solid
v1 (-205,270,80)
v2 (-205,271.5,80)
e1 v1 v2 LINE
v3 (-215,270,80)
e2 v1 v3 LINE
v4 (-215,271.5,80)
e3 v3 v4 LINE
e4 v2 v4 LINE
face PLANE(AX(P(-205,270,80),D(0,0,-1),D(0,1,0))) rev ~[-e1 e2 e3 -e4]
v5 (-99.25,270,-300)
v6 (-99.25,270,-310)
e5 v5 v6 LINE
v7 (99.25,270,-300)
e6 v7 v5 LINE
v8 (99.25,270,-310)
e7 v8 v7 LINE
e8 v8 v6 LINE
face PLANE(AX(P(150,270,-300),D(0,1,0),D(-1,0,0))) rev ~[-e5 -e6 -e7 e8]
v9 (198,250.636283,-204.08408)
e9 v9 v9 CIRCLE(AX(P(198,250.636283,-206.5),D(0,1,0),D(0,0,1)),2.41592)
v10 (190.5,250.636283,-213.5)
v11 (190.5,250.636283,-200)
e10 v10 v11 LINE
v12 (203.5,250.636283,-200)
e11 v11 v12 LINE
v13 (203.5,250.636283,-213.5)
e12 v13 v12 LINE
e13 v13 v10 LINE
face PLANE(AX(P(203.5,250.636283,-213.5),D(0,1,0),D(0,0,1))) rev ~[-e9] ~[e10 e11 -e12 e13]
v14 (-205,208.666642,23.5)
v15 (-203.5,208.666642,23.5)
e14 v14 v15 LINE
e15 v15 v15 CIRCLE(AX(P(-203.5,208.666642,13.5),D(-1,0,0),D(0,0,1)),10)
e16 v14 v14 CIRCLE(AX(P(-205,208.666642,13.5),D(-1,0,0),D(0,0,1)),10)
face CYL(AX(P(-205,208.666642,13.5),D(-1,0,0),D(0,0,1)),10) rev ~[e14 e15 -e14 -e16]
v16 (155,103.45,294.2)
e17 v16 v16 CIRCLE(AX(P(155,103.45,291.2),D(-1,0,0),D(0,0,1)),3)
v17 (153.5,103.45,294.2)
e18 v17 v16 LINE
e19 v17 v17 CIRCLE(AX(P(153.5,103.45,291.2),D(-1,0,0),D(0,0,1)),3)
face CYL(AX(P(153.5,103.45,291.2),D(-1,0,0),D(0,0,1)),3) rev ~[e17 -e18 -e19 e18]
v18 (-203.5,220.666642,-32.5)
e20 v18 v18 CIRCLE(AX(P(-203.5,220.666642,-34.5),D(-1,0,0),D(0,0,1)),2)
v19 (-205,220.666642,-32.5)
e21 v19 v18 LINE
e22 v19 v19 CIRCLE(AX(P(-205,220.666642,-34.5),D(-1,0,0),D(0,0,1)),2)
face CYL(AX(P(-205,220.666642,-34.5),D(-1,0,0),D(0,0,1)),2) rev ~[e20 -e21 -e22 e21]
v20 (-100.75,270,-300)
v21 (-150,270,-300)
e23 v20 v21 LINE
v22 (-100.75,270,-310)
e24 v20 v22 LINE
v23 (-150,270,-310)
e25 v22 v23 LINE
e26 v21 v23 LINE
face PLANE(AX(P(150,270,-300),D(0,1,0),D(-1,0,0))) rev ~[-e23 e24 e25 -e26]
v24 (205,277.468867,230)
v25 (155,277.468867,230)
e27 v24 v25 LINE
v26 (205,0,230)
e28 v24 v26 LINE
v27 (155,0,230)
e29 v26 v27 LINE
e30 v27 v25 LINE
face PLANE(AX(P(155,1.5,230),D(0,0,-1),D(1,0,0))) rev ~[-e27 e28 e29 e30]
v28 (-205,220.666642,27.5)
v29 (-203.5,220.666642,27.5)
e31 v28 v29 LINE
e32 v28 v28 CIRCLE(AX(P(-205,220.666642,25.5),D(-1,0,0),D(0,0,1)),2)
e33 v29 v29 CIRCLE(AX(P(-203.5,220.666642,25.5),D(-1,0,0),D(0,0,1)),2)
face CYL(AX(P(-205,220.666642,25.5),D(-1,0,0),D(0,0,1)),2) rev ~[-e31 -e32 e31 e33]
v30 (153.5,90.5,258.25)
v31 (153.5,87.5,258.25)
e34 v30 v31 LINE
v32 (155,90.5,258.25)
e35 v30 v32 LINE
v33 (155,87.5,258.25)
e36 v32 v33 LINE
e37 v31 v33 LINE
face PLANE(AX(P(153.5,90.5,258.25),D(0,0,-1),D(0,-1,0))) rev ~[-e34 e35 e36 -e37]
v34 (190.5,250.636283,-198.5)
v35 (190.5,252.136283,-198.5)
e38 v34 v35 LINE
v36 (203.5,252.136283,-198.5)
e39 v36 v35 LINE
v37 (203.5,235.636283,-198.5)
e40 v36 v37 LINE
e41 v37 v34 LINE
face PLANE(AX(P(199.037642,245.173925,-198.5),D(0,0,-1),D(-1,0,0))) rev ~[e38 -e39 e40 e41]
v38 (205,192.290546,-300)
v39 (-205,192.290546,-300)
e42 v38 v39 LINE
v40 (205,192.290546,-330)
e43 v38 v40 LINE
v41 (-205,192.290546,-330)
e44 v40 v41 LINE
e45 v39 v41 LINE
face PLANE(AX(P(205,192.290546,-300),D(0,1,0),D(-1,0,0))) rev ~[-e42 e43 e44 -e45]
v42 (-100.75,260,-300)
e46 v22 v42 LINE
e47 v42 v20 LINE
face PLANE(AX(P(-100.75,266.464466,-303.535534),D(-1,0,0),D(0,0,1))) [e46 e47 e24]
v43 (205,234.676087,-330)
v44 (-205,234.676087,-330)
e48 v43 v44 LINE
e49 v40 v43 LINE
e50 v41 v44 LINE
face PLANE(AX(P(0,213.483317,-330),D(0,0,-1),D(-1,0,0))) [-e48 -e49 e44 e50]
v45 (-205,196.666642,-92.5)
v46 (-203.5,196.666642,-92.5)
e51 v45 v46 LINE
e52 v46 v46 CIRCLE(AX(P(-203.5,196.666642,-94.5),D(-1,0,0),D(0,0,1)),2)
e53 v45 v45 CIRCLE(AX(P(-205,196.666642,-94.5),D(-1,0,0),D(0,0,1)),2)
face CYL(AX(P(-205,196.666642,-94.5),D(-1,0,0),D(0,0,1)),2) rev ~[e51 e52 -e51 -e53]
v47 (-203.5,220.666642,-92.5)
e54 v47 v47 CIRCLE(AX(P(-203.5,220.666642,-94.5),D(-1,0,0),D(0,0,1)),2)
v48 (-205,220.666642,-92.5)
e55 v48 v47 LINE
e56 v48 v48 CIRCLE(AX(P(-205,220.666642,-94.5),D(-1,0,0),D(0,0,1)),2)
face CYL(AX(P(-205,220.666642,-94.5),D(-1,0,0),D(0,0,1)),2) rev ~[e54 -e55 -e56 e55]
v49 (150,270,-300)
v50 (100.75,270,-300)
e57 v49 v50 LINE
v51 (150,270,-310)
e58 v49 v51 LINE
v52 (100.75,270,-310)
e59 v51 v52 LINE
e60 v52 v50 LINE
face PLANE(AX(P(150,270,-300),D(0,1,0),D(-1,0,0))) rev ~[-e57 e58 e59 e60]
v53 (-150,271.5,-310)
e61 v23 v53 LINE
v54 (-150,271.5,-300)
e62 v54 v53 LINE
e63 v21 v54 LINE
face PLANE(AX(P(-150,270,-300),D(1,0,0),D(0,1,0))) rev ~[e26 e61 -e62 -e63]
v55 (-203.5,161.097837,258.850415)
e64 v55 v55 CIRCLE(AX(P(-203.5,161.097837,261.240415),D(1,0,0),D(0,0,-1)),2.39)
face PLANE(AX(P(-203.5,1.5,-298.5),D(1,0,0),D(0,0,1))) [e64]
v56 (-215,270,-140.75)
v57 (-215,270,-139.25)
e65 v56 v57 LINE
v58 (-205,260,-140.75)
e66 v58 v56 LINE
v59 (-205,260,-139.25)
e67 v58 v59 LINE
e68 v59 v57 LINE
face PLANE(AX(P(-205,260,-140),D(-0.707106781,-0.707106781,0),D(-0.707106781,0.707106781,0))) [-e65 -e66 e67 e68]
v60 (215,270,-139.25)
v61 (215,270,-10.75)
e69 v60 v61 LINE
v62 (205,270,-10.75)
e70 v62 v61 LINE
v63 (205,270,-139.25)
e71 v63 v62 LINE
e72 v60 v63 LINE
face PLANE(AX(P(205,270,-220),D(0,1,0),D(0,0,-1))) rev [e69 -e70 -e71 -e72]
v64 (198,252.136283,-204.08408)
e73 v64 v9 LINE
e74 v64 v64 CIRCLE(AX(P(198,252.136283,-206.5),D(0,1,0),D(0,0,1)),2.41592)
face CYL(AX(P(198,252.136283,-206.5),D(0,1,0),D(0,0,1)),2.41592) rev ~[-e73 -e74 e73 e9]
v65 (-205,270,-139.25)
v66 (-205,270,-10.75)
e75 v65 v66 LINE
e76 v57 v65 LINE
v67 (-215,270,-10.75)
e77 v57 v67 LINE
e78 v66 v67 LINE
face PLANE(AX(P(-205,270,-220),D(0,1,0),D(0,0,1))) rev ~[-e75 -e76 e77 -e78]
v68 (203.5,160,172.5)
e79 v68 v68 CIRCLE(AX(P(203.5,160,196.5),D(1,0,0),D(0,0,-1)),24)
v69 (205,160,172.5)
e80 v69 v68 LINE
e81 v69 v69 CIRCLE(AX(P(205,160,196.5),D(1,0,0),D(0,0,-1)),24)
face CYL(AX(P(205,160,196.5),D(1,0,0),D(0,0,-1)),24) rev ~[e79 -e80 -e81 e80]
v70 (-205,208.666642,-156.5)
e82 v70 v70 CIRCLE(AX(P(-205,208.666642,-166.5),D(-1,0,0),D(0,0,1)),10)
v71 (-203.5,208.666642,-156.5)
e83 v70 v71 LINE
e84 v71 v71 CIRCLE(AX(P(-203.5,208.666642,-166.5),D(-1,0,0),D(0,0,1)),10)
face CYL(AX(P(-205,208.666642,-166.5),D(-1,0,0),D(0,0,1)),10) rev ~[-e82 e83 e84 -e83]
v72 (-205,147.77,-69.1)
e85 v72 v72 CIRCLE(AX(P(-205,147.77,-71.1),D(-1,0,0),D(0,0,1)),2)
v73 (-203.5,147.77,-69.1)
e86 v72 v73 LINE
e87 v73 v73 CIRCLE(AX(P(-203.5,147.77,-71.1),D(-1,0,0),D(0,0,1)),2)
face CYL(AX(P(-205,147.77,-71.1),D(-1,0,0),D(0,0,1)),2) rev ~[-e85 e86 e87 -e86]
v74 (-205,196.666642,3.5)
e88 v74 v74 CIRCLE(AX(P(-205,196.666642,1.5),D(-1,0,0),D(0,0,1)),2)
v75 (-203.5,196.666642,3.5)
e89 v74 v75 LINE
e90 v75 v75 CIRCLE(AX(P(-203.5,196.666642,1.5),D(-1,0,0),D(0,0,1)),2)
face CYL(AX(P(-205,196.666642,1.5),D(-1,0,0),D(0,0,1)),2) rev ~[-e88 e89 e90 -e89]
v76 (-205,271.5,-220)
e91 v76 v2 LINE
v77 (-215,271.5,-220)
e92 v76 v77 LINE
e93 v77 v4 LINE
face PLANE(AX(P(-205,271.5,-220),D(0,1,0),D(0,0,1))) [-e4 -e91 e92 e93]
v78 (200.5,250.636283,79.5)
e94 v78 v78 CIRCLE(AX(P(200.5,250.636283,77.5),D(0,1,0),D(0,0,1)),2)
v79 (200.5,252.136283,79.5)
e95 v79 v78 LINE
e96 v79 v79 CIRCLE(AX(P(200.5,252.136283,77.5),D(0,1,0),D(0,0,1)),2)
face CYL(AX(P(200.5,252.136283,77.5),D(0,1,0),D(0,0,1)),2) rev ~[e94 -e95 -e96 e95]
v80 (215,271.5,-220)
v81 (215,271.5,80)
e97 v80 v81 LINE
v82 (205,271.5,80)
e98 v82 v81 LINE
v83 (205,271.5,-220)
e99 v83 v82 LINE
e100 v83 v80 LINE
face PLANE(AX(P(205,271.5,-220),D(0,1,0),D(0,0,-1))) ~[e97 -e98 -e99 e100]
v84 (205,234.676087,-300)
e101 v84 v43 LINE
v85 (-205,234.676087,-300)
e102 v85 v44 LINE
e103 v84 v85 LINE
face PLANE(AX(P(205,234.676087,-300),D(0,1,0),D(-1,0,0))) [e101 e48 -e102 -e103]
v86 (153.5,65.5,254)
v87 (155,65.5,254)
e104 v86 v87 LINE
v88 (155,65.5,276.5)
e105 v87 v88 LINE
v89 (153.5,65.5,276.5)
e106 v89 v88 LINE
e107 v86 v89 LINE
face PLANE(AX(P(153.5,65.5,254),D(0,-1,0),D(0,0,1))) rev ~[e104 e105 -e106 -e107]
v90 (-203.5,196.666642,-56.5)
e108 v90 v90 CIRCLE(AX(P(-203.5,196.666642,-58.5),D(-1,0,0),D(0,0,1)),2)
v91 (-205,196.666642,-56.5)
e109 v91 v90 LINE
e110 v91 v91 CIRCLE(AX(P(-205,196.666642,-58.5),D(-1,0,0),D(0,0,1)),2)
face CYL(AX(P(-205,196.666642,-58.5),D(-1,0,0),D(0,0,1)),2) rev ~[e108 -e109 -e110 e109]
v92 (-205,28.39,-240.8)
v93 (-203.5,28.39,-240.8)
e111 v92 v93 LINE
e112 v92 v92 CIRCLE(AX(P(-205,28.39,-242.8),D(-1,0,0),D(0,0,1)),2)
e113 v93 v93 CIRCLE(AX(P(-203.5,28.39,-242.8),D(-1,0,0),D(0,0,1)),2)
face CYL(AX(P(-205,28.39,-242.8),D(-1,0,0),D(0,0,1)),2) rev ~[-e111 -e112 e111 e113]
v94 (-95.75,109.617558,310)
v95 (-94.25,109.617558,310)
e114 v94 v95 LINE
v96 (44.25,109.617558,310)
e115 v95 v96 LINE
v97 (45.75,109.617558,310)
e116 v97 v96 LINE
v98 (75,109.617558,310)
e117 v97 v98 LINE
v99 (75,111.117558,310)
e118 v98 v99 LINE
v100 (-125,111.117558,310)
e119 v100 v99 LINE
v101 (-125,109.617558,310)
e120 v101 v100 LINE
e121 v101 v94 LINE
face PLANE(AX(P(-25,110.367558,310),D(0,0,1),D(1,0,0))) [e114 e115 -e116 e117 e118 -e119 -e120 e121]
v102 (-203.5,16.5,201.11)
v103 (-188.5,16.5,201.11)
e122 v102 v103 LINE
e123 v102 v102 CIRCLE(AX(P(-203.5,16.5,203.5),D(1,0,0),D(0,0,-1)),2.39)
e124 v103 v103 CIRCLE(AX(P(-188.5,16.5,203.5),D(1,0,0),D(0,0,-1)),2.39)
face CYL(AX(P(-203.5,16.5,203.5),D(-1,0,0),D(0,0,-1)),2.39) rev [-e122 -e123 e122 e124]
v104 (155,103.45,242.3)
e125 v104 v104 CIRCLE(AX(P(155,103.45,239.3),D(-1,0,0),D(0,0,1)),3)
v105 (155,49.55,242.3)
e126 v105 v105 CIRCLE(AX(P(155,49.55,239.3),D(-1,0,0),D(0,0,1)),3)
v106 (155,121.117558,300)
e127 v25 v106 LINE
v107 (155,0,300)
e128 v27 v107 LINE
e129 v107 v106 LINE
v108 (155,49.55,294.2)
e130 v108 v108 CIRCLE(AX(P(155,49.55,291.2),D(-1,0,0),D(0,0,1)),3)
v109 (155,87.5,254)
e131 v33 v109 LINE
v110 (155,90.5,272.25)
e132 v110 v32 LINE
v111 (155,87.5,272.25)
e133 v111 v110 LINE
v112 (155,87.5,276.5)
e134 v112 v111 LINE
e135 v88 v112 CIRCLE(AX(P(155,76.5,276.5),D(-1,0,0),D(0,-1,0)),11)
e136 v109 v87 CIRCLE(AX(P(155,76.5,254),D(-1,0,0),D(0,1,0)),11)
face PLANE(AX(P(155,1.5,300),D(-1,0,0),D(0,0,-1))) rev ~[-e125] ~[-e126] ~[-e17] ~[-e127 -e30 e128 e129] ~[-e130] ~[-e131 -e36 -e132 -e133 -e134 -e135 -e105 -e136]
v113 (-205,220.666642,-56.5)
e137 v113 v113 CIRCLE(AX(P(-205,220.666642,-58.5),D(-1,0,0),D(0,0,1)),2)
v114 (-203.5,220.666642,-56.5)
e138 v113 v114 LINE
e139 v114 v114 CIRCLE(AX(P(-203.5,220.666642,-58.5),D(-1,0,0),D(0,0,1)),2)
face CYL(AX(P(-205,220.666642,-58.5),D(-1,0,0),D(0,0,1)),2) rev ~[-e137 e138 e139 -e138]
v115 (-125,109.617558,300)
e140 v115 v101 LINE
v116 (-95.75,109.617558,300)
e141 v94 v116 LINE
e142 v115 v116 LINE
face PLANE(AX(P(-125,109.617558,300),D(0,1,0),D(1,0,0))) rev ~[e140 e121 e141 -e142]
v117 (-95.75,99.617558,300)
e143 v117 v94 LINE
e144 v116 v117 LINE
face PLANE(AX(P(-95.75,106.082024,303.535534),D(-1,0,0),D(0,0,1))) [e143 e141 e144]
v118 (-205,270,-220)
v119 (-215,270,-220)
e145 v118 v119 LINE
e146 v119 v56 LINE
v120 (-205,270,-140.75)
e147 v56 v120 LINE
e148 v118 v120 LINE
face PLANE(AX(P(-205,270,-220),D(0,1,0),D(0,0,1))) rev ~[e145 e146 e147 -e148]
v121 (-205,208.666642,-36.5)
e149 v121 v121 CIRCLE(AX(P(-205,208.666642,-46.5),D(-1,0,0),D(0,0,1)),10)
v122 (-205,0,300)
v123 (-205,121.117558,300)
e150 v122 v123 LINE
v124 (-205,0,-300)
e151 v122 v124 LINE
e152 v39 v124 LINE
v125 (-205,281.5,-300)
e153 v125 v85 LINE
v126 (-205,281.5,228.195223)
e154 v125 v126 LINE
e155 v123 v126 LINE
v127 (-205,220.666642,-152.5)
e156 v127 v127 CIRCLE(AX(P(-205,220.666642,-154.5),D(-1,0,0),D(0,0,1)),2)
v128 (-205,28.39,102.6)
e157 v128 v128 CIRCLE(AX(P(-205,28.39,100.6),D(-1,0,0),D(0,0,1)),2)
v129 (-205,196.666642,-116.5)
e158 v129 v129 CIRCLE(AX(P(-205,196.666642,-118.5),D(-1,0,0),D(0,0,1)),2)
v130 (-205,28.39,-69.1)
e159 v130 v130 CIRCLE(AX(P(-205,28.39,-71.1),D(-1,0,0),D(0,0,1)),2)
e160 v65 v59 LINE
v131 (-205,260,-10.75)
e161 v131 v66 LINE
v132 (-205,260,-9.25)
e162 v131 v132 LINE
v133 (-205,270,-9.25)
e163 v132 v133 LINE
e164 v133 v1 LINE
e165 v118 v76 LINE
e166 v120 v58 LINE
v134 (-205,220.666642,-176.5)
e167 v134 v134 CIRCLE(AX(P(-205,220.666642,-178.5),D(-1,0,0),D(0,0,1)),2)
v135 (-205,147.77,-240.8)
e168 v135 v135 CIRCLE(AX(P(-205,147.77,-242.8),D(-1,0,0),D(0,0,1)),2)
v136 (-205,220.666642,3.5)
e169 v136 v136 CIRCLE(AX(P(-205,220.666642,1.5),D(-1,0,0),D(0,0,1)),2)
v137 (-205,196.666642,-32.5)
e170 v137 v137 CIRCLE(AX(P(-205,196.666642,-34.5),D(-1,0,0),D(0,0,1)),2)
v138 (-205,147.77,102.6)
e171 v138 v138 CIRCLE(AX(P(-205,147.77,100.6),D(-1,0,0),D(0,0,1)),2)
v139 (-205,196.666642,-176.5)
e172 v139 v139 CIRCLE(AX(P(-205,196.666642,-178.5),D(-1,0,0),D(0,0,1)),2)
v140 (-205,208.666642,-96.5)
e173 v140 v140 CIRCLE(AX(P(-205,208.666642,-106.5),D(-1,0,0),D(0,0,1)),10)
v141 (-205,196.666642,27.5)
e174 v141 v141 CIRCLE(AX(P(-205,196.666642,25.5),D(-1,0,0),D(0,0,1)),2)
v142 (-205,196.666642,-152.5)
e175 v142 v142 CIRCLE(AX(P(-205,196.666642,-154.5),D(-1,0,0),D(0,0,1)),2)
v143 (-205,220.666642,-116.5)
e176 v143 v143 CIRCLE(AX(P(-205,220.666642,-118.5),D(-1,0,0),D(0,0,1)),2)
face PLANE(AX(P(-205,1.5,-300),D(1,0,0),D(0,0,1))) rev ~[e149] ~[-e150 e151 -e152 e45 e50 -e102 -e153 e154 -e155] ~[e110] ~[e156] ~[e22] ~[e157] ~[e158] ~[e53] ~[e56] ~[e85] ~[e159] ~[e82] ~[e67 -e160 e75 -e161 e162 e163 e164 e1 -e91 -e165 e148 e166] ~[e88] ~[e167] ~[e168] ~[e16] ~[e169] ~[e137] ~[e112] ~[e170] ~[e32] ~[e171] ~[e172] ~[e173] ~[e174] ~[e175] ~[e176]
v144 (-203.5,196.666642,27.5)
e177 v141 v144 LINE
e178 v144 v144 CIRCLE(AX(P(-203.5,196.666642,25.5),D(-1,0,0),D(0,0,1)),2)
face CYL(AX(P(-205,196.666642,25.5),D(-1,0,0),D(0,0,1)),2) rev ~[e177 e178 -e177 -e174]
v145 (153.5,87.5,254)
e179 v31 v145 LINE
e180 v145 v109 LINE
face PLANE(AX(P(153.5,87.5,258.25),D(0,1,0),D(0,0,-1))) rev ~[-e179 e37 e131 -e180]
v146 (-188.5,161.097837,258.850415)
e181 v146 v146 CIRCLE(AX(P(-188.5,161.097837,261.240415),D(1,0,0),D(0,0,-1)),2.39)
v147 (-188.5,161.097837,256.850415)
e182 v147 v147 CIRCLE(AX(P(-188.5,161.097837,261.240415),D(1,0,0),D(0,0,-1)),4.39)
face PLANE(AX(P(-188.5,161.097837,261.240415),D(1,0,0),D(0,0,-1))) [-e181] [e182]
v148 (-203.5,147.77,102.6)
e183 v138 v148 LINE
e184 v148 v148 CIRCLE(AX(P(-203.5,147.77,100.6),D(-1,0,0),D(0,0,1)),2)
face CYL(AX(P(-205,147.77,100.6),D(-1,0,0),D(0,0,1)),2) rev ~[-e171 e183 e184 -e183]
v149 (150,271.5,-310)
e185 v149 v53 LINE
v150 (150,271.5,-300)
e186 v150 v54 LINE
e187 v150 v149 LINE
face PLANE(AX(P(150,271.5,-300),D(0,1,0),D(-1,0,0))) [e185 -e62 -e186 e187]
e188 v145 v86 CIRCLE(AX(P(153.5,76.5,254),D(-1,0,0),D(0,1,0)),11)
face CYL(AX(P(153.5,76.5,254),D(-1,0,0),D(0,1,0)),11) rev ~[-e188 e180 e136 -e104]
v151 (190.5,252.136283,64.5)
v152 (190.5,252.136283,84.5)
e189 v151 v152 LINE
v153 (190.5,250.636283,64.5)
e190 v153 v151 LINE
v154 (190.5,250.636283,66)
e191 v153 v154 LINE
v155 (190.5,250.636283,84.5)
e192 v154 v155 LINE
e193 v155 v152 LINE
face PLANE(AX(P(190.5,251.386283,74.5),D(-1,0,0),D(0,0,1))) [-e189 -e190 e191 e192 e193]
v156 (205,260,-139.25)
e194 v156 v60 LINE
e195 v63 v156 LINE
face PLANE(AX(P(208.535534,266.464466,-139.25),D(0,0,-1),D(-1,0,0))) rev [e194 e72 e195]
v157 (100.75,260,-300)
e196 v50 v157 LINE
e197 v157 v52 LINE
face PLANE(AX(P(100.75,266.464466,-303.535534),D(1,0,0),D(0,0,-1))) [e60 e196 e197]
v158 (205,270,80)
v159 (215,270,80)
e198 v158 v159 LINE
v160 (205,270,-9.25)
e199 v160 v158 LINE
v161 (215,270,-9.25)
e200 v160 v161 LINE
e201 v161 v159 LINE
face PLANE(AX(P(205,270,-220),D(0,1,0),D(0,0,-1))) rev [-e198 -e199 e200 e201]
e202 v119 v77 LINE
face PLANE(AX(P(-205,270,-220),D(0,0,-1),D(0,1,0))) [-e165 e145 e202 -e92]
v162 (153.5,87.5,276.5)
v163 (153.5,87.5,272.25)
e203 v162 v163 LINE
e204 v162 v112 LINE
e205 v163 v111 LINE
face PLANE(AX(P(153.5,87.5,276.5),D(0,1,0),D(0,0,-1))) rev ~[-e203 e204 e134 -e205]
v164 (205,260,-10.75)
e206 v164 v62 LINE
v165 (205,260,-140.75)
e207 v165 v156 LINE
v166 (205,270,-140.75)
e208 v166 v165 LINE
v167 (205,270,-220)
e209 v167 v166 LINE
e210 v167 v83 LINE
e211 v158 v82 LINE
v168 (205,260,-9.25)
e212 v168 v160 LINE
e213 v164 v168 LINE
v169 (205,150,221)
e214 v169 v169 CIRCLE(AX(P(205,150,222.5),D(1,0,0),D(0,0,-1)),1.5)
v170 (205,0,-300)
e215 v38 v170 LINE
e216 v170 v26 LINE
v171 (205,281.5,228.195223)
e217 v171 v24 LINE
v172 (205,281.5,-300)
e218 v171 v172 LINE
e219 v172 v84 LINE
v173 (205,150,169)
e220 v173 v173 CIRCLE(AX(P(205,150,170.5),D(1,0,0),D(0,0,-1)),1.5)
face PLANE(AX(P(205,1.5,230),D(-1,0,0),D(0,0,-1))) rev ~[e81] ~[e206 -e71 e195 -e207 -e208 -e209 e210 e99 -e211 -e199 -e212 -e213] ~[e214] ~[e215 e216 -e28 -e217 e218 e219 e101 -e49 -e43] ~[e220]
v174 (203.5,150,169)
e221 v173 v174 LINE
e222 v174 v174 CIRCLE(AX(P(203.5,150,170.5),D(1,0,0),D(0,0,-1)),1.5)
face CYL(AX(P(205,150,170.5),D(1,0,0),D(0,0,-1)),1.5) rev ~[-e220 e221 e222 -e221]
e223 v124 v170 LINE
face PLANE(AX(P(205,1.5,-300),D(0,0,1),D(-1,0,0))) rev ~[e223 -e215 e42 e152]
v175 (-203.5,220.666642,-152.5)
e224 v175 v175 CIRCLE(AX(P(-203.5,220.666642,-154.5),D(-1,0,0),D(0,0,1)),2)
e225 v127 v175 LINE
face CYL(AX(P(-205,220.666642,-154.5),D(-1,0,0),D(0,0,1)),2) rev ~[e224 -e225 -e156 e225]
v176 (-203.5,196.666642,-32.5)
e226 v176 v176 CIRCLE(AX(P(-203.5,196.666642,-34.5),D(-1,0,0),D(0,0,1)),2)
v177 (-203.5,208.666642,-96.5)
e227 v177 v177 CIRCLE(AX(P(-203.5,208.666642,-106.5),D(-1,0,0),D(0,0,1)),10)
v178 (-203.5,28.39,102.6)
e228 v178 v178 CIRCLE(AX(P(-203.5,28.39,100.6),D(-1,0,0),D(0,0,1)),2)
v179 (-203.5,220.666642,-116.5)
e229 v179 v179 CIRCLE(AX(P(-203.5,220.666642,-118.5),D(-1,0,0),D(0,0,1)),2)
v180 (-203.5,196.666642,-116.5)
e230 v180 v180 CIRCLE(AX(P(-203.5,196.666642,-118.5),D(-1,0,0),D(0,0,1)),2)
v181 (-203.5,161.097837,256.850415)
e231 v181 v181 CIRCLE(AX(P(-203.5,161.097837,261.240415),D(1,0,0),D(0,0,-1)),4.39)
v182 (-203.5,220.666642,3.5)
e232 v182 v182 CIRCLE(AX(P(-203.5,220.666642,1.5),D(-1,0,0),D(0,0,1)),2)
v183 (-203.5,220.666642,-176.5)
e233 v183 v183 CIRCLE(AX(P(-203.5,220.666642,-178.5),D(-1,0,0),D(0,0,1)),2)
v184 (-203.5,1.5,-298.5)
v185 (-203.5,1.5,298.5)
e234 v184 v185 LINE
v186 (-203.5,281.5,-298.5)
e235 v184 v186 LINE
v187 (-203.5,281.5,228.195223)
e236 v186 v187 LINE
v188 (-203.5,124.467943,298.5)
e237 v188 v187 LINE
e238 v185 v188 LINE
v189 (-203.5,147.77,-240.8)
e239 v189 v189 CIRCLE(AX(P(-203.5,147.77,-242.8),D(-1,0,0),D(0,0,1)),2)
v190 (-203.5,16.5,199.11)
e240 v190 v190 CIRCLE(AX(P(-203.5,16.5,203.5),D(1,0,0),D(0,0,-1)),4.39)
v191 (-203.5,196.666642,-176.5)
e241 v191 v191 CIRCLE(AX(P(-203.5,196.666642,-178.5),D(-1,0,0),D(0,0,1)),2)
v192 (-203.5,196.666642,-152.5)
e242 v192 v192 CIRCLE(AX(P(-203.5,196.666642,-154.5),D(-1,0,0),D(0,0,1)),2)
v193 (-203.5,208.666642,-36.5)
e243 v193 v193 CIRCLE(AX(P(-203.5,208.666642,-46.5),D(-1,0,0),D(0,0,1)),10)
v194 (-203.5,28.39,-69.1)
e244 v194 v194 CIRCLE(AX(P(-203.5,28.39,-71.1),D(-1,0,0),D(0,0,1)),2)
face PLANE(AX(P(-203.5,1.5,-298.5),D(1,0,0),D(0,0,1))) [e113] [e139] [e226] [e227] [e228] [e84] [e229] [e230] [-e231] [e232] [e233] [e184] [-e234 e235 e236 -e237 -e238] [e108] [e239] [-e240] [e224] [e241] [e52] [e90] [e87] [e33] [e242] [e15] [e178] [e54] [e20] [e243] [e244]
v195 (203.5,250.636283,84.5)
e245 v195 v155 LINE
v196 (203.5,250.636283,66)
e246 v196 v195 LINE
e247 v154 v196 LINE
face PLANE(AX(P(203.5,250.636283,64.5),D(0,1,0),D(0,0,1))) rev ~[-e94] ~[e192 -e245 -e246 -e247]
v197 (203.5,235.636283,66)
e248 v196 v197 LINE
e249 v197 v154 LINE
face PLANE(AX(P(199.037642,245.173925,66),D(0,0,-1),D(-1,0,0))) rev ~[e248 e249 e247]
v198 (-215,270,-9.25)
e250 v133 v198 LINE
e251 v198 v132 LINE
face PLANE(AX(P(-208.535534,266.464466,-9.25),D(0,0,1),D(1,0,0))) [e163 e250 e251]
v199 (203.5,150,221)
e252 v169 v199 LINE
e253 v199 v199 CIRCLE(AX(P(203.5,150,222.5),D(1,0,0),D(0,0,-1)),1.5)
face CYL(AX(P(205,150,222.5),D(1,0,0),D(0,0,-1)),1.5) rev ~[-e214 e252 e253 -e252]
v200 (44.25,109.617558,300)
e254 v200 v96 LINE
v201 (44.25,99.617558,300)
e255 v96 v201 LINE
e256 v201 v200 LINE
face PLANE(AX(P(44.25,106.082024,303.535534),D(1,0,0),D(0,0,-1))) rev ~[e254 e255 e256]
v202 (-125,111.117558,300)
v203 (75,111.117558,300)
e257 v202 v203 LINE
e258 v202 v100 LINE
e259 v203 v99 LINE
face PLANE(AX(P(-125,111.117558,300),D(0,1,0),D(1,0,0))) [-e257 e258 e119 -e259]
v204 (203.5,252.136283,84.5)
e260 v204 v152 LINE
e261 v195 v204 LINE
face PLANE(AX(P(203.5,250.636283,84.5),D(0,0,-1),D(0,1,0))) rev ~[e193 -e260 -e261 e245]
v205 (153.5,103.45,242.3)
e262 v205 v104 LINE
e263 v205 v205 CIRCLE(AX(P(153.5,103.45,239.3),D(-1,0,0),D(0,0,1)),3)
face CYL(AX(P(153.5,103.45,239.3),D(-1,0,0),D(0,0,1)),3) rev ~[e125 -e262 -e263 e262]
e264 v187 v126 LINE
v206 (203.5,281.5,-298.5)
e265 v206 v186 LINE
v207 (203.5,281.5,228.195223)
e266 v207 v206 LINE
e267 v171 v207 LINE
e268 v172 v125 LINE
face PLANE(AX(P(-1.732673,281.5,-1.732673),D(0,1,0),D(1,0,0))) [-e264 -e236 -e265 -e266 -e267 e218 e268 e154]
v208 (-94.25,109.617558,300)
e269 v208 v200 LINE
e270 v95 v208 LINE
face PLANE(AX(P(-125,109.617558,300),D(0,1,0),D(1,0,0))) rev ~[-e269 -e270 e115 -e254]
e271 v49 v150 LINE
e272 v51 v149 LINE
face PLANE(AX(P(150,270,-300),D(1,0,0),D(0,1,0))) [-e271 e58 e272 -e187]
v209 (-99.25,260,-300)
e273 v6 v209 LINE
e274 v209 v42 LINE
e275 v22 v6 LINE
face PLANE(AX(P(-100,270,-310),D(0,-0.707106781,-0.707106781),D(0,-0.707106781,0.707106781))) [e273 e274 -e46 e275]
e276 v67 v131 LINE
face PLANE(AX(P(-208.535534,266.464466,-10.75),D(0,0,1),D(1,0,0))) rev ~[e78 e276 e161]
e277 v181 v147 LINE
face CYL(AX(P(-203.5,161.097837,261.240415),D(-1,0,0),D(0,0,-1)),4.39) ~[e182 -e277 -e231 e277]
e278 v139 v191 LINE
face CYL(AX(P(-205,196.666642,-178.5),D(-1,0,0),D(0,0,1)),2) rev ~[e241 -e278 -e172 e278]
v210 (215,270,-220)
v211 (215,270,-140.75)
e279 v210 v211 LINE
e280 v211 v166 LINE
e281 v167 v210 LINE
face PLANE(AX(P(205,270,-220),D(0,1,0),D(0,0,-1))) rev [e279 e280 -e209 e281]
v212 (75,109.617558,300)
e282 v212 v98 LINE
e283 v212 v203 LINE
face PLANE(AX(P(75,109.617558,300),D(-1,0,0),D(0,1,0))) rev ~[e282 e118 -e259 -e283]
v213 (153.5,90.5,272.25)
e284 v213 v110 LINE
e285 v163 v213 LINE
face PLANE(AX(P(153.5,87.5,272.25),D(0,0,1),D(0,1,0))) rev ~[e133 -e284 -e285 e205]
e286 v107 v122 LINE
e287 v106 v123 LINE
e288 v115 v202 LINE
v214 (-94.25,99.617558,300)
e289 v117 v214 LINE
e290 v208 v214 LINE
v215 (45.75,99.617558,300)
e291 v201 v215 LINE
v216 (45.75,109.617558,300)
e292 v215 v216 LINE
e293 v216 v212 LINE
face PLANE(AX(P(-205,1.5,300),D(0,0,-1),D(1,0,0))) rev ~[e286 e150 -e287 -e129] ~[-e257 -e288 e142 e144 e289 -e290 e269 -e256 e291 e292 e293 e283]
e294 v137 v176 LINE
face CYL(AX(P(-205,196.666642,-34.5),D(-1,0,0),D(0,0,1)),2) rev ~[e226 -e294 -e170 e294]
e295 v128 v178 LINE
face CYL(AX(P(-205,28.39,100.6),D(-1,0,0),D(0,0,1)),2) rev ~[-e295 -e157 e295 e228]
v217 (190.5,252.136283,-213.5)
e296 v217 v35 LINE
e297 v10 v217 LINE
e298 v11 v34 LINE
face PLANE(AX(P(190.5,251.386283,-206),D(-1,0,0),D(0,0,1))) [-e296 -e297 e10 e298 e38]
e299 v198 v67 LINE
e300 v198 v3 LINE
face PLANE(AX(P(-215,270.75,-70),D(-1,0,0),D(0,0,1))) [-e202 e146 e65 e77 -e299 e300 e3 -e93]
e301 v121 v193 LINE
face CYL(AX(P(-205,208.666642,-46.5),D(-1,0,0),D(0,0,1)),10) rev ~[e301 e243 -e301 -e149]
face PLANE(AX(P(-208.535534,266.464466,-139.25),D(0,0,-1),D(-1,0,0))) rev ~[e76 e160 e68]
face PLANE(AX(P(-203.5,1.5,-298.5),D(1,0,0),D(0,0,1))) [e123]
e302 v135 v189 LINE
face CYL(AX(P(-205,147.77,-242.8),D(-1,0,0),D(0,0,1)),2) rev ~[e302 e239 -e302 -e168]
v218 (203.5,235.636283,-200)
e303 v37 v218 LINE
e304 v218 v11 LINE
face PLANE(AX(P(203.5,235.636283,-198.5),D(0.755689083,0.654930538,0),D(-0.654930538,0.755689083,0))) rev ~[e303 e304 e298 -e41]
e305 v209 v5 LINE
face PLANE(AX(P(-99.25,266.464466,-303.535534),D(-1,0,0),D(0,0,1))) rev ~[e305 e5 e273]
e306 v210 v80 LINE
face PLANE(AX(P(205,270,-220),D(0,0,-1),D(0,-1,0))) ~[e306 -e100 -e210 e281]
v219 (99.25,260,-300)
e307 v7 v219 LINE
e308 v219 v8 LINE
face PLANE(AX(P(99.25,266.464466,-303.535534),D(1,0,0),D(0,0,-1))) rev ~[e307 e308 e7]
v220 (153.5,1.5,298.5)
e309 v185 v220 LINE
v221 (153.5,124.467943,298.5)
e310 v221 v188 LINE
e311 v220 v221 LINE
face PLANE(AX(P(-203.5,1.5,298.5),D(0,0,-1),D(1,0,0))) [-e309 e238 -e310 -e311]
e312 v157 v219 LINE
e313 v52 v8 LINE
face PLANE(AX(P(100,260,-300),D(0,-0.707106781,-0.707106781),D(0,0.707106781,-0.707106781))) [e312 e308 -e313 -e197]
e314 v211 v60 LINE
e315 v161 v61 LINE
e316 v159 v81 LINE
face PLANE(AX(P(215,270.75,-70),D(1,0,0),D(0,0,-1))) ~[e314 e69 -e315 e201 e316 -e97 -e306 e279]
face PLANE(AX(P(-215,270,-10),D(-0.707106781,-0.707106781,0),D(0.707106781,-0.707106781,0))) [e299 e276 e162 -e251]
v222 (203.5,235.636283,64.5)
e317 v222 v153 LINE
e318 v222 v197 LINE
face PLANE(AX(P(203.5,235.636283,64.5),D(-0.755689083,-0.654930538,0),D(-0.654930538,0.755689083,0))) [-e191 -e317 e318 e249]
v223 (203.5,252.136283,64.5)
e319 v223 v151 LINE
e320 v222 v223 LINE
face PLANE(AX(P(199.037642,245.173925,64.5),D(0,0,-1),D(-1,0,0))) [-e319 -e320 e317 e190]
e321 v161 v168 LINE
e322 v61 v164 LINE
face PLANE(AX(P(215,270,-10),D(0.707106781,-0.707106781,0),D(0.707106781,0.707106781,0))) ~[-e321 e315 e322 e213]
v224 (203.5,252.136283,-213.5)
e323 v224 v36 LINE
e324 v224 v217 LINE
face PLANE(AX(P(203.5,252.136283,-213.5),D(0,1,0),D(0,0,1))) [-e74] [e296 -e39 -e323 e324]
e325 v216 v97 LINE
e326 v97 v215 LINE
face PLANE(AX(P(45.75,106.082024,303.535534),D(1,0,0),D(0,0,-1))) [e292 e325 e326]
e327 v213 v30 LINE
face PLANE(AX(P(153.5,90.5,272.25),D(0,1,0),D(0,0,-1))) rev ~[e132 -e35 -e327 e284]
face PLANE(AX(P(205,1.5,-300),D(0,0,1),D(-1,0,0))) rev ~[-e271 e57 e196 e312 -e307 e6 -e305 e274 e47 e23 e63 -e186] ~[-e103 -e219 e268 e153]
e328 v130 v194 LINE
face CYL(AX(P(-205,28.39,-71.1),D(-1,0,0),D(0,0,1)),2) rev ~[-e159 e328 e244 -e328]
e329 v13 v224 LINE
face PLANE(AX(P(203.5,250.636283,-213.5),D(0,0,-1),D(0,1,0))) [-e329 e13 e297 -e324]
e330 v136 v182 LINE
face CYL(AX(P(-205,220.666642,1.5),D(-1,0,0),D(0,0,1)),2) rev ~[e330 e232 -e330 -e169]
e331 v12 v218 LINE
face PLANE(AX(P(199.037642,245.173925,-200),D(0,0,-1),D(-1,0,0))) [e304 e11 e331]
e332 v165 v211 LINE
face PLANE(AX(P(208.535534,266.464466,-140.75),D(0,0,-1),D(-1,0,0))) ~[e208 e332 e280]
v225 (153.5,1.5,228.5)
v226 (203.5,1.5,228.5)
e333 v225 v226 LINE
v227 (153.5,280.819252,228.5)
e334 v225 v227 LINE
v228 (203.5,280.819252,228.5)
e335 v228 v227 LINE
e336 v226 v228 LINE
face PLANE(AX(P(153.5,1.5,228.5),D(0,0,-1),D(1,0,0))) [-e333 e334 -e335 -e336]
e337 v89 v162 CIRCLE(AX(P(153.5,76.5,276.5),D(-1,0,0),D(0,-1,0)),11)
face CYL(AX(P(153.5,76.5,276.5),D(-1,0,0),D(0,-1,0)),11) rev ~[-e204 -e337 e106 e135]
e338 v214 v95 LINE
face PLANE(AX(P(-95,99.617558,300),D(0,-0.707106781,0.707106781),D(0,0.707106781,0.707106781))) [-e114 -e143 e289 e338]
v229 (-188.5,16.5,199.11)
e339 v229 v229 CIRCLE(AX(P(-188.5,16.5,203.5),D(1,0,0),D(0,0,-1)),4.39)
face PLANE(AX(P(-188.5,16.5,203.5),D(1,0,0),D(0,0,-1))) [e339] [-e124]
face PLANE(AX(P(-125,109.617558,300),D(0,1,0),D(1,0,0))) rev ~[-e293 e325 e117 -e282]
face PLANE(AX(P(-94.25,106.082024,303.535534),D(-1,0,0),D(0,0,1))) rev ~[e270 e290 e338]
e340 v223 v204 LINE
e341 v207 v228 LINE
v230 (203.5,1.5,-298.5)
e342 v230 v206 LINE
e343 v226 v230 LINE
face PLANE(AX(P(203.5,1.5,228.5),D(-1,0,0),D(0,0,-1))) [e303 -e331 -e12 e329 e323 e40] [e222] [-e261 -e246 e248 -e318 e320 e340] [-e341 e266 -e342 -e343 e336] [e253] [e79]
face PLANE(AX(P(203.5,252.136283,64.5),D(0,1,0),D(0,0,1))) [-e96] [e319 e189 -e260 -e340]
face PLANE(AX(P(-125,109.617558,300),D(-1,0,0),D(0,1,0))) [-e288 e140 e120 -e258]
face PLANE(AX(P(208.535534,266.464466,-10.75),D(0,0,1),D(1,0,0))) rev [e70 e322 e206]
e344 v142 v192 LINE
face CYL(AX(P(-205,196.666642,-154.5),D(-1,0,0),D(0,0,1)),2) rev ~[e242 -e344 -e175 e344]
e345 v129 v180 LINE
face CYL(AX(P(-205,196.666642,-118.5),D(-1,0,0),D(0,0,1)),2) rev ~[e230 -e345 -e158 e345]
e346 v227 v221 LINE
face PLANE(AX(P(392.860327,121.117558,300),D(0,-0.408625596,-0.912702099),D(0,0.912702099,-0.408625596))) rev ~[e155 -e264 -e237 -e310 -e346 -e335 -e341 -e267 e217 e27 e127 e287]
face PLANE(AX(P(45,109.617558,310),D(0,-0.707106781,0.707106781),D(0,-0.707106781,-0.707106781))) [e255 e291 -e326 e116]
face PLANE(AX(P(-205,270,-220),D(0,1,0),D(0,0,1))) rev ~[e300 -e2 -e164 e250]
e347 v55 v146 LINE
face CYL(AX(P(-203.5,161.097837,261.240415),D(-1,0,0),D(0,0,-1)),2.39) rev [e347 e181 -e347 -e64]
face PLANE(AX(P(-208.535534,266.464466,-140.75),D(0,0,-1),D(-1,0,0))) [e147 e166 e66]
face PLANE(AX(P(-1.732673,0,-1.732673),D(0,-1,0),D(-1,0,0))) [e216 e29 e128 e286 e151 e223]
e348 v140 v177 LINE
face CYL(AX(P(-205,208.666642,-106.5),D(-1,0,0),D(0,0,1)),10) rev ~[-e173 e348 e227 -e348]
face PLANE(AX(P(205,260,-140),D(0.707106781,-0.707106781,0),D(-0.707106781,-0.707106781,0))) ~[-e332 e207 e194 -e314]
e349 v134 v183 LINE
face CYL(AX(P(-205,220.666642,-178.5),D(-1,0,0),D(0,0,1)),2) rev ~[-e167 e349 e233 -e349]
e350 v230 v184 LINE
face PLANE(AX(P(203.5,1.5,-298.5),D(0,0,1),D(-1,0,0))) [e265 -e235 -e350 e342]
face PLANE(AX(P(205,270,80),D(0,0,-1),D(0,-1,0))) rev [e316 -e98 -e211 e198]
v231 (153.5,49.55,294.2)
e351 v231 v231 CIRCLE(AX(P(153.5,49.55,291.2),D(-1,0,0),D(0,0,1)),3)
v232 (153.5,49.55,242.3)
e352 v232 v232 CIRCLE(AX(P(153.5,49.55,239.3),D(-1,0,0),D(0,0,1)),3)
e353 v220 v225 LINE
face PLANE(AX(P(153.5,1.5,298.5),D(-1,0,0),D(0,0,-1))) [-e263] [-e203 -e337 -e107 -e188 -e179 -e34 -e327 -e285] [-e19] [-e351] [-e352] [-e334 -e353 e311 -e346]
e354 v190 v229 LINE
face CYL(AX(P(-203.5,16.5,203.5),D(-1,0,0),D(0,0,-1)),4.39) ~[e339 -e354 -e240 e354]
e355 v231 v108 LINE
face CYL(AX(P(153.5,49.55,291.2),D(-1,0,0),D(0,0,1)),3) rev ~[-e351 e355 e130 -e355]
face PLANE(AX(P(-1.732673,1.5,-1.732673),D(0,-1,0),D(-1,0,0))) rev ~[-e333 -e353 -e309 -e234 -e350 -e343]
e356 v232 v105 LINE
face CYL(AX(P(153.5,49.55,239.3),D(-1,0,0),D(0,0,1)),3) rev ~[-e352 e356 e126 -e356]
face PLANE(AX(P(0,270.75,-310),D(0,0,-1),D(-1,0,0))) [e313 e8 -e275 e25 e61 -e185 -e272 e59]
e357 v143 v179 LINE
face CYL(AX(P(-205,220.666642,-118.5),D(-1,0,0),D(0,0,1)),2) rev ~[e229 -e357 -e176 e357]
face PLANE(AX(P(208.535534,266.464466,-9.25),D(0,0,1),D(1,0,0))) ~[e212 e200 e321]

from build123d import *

# Parameters (mm, degrees)
BOSS_EXTRUDE1_DEPTH     = 1.5
BOSS_EXTRUDE2_DEPTH     = 280
SKETCH4_W               = 410
SKETCH4_H               = 42.385541564
BOSS_EXTRUDE3_DEPTH     = 30
CUT_EXTRUDE1_DEPTH      = 597.860327045
CUT_EXTRUDE1_DEPTH_BACK = 597.860327045
SKETCH8_R               = 4.39
SKETCH8_R_2             = 2.39
BOSS_EXTRUDE5_DEPTH     = 15
SKETCH10_R              = 3
CUT_EXTRUDE2_DEPTH      = 1.5
SKETCH15_W              = 15
SKETCH15_H              = 1.5
SKETCH15_W_2            = 20
BOSS_EXTRUDE6_DEPTH     = 13
BOSS_EXTRUDE7_DEPTH     = 1.5
BOSS_EXTRUDE8_DEPTH     = 1.5
SKETCH20_R              = 2.415919743
SKETCH20_R_2            = 2
CUT_EXTRUDE5_DEPTH      = 1.5
SKETCH5_R               = 2
SKETCH5_R_2             = 10
CUT_EXTRUDE7_DEPTH      = 1.5
SKETCH21_W              = 300
SKETCH21_H              = 1.5
BOSS_EXTRUDE9_DEPTH     = 10
SKETCH22_W              = 300
SKETCH22_H              = 1.5
BOSS_EXTRUDE10_DEPTH    = 10
BOSS_EXTRUDE11_DEPTH    = 0.75
BOSS_EXTRUDE12_DEPTH    = 0.75
BOSS_EXTRUDE13_DEPTH    = 0.75
BOSS_EXTRUDE14_DEPTH    = 0.75
SKETCH27_W              = 200
SKETCH27_H              = 1.5
BOSS_EXTRUDE15_DEPTH    = 10
BOSS_EXTRUDE16_DEPTH    = 0.75
BOSS_EXTRUDE17_DEPTH    = 0.75
SKETCH30_R              = 24
SKETCH30_R_2            = 1.5
CUT_EXTRUDE8_DEPTH      = 1.5
SKETCH33_R              = 2
CUT_EXTRUDE9_DEPTH      = 1.5


with BuildPart() as part:
    # Sketch1 → Boss-Extrude1 (new body)
    with BuildSketch(Plane(origin=(0, 0, 0), x_dir=(1, 0, 0), z_dir=(0, 1, 0))):
        Polygon((-205, 300), (205, 300), (205, -230), (155, -230), (155, -300), (-205, -300), align=None)
    extrude(amount=BOSS_EXTRUDE1_DEPTH)

    # Sketch2 → Boss-Extrude2 (add)
    with BuildSketch(Plane(origin=(0, 1.5, 0), x_dir=(1, 0, 0), z_dir=(0, 1, 0))):
        Polygon((-205, 300), (-205, -300), (155, -300), (155, -230), (205, -230), (205, 300), align=None)
        Polygon((-203.5, 298.5), (-203.5, -298.5), (153.5, -298.5), (153.5, -228.5), (203.5, -228.5), (203.5, 298.5), align=None, mode=Mode.SUBTRACT)
    extrude(amount=BOSS_EXTRUDE2_DEPTH)

    # Sketch4 → Boss-Extrude3 (add)
    with BuildSketch(Plane(origin=(0, 0, -300), x_dir=(-1, 0, 0), z_dir=(0, 0, -1))):
        with Locations((0, 213.483316708)):
            Rectangle(SKETCH4_W, SKETCH4_H)
    extrude(amount=BOSS_EXTRUDE3_DEPTH)

    # Sketch3 → Cut-Extrude1 (cut, two sides: drawn at the far end of the back side and taken through both)
    with BuildSketch(Plane.ZY.offset(205).offset(-CUT_EXTRUDE1_DEPTH_BACK)):
        Polygon((300, 121.117558148), (228.195222706, 281.5), (300, 281.5), align=None)
    extrude(amount=CUT_EXTRUDE1_DEPTH + CUT_EXTRUDE1_DEPTH_BACK, mode=Mode.SUBTRACT)

    # Sketch8 → Boss-Extrude5 (add)
    # profile 1 of 2: a face of its own
    with BuildSketch(Plane(origin=(-203.5, 0, 0), x_dir=(0, 0, -1), z_dir=(1, 0, 0))):
        with Locations((-261.240414508, 161.097837233)):
            Circle(SKETCH8_R)
        with Locations((-261.240414508, 161.097837233)):
            Circle(SKETCH8_R_2, mode=Mode.SUBTRACT)
    # profile 2 of 2: a face of its own
    with BuildSketch(Plane(origin=(-203.5, 0, 0), x_dir=(0, 0, -1), z_dir=(1, 0, 0))):
        with Locations((-203.5, 16.5)):
            Circle(SKETCH8_R)
        with Locations((-203.5, 16.5)):
            Circle(SKETCH8_R_2, mode=Mode.SUBTRACT)
    extrude(amount=BOSS_EXTRUDE5_DEPTH)

    # Sketch10 → Cut-Extrude2 (cut)
    with BuildSketch(Plane.ZY.offset(-153.5)):
        with BuildLine():
            Line((272.25, 90.5), (258.25, 90.5))
            Line((258.25, 90.5), (258.25, 87.5))
            Line((258.25, 87.5), (254, 87.5))
            ThreePointArc((254, 87.5), (243, 76.5), (254, 65.5))
            Line((254, 65.5), (276.5, 65.5))
            ThreePointArc((276.5, 65.5), (287.5, 76.5), (276.5, 87.5))
            Line((276.5, 87.5), (272.25, 87.5))
            Line((272.25, 87.5), (272.25, 90.5))
        make_face()
        with Locations((239.3, 103.45)):
            Circle(SKETCH10_R)
        with Locations((291.2, 103.45)):
            Circle(SKETCH10_R)
        with Locations((239.3, 49.55)):
            Circle(SKETCH10_R)
        with Locations((291.2, 49.55)):
            Circle(SKETCH10_R)
    extrude(amount=-CUT_EXTRUDE2_DEPTH, mode=Mode.SUBTRACT)

    # Sketch15 → Boss-Extrude6 (add)
    with BuildSketch(Plane.ZY.offset(-203.5)):
        with Locations((-206, 251.386283415)):
            Rectangle(SKETCH15_W, SKETCH15_H)
        with Locations((74.5, 251.386283415)):
            Rectangle(SKETCH15_W_2, SKETCH15_H)
    extrude(amount=BOSS_EXTRUDE6_DEPTH)

    # Sketch17 → Boss-Extrude7 (add)
    with BuildSketch(Plane.XY.offset(-198.5)):
        Polygon((203.5, 250.636283415), (203.5, 235.636283415), (190.5, 250.636283415), align=None)
    extrude(amount=-BOSS_EXTRUDE7_DEPTH)

    # Sketch18 → Boss-Extrude8 (add)
    with BuildSketch(Plane.XY.offset(64.5)):
        Polygon((203.5, 250.636283415), (203.5, 235.636283415), (190.5, 250.636283415), align=None)
    extrude(amount=BOSS_EXTRUDE8_DEPTH)

    # Sketch20 → Cut-Extrude5 (cut)
    with BuildSketch(Plane(origin=(0, 252.136283415, 0), x_dir=(1, 0, 0), z_dir=(0, 1, 0))):
        with Locations(Location((198, 206.5, 0), (0, 0, 270))):
            Circle(SKETCH20_R)
        with Locations(Location((200.5, -77.5, 0), (0, 0, 270))):
            Circle(SKETCH20_R_2)
    extrude(amount=-CUT_EXTRUDE5_DEPTH, mode=Mode.SUBTRACT)

    # Sketch5 → Cut-Extrude7 (cut)
    with BuildSketch(Plane.ZY.offset(205)):
        with Locations((-178.5, 220.666641665)):
            Circle(SKETCH5_R)
        with Locations((-154.5, 196.666641665)):
            Circle(SKETCH5_R)
        with Locations((-154.5, 220.666641665)):
            Circle(SKETCH5_R)
        with Locations((-166.5, 208.666641665)):
            Circle(SKETCH5_R_2)
        with Locations((-178.5, 196.666641665)):
            Circle(SKETCH5_R)
        with Locations((-118.5, 220.666641665)):
            Circle(SKETCH5_R)
        with Locations((-94.5, 196.666641665)):
            Circle(SKETCH5_R)
        with Locations((-94.5, 220.666641665)):
            Circle(SKETCH5_R)
        with Locations((-106.5, 208.666641665)):
            Circle(SKETCH5_R_2)
        with Locations((-118.5, 196.666641665)):
            Circle(SKETCH5_R)
        with Locations((-58.5, 220.666641665)):
            Circle(SKETCH5_R)
        with Locations((-34.5, 196.666641665)):
            Circle(SKETCH5_R)
        with Locations((-34.5, 220.666641665)):
            Circle(SKETCH5_R)
        with Locations((-46.5, 208.666641665)):
            Circle(SKETCH5_R_2)
        with Locations((-58.5, 196.666641665)):
            Circle(SKETCH5_R)
        with Locations((1.5, 220.666641665)):
            Circle(SKETCH5_R)
        with Locations((25.5, 196.666641665)):
            Circle(SKETCH5_R)
        with Locations((25.5, 220.666641665)):
            Circle(SKETCH5_R)
        with Locations((13.5, 208.666641665)):
            Circle(SKETCH5_R_2)
        with Locations((1.5, 196.666641665)):
            Circle(SKETCH5_R)
    extrude(amount=-CUT_EXTRUDE7_DEPTH, mode=Mode.SUBTRACT)

    # Sketch21 → Boss-Extrude9 (add)
    with BuildSketch(Plane(origin=(0, 0, -300), x_dir=(-1, 0, 0), z_dir=(0, 0, -1))):
        with Locations((0, 270.75)):
            Rectangle(SKETCH21_W, SKETCH21_H)
    extrude(amount=BOSS_EXTRUDE9_DEPTH)

    # Sketch22 → Boss-Extrude10 (add)
    with BuildSketch(Plane.ZY.offset(205)):
        with Locations((-70, 270.75)):
            Rectangle(SKETCH22_W, SKETCH22_H)
    boss_extrude10 = extrude(amount=BOSS_EXTRUDE10_DEPTH)

    # Sketch23 → Boss-Extrude11 (add, symmetric)
    with BuildSketch(Plane(origin=(0, 0, -140), x_dir=(-1, 0, 0), z_dir=(0, 0, -1))):
        Polygon((215, 270), (205, 270), (205, 260), align=None)
    boss_extrude11 = extrude(amount=BOSS_EXTRUDE11_DEPTH, both=True)

    # Sketch24 → Boss-Extrude12 (add, symmetric)
    with BuildSketch(Plane.XY.offset(-10)):
        Polygon((-215, 270), (-205, 260), (-205, 270), align=None)
    boss_extrude12 = extrude(amount=BOSS_EXTRUDE12_DEPTH, both=True)

    # Sketch25 → Boss-Extrude13 (add, symmetric)
    with BuildSketch(Plane(origin=(100, 0, 0), x_dir=(0, 0, -1), z_dir=(1, 0, 0))):
        Polygon((310, 270), (300, 270), (300, 260), align=None)
    extrude(amount=BOSS_EXTRUDE13_DEPTH, both=True)

    # Sketch26 → Boss-Extrude14 (add, symmetric)
    with BuildSketch(Plane.ZY.offset(100)):
        Polygon((-310, 270), (-300, 260), (-300, 270), align=None)
    extrude(amount=BOSS_EXTRUDE14_DEPTH, both=True)

    # Mirror1: Boss-Extrude10, Boss-Extrude11, Boss-Extrude12 across plane
    add(boss_extrude10.mirror(Plane(origin=(0, 0, 0), x_dir=(0, 0, 1), z_dir=(1, 0, 0))))
    add(boss_extrude11.mirror(Plane(origin=(0, 0, 0), x_dir=(0, 0, 1), z_dir=(1, 0, 0))))
    add(boss_extrude12.mirror(Plane(origin=(0, 0, 0), x_dir=(0, 0, 1), z_dir=(1, 0, 0))))

    # Sketch27 → Boss-Extrude15 (add)
    with BuildSketch(Plane.XY.offset(300)):
        with Locations((-25, 110.367558148)):
            Rectangle(SKETCH27_W, SKETCH27_H)
    extrude(amount=BOSS_EXTRUDE15_DEPTH)

    # Sketch28 → Boss-Extrude16 (add, symmetric)
    with BuildSketch(Plane.ZY.offset(95)):
        Polygon((310, 109.617558148), (300, 109.617558148), (300, 99.617558148), align=None)
    extrude(amount=BOSS_EXTRUDE16_DEPTH, both=True)

    # Sketch29 → Boss-Extrude17 (add, symmetric)
    with BuildSketch(Plane(origin=(45, 0, 0), x_dir=(0, 0, -1), z_dir=(1, 0, 0))):
        Polygon((-310, 109.617558148), (-300, 99.617558148), (-300, 109.617558148), align=None)
    extrude(amount=BOSS_EXTRUDE17_DEPTH, both=True)

    # Sketch30 → Cut-Extrude8 (cut)
    with BuildSketch(Plane(origin=(205, 0, 0), x_dir=(0, 0, -1), z_dir=(1, 0, 0))):
        with Locations((-196.5, 160)):
            Circle(SKETCH30_R)
        with Locations((-222.5, 150)):
            Circle(SKETCH30_R_2)
        with Locations((-170.5, 150)):
            Circle(SKETCH30_R_2)
    extrude(amount=-CUT_EXTRUDE8_DEPTH, mode=Mode.SUBTRACT)

    # Sketch33 → Cut-Extrude9 (cut)
    with BuildSketch(Plane.ZY.offset(205)):
        with Locations((-242.8, 147.77)):
            Circle(SKETCH33_R)
        with Locations((-242.8, 28.39)):
            Circle(SKETCH33_R)
        with Locations((-71.1, 147.77)):
            Circle(SKETCH33_R)
        with Locations((-71.1, 28.39)):
            Circle(SKETCH33_R)
        with Locations((100.6, 147.77)):
            Circle(SKETCH33_R)
        with Locations((100.6, 28.39)):
            Circle(SKETCH33_R)
    extrude(amount=-CUT_EXTRUDE9_DEPTH, mode=Mode.SUBTRACT)


solid = part.part
